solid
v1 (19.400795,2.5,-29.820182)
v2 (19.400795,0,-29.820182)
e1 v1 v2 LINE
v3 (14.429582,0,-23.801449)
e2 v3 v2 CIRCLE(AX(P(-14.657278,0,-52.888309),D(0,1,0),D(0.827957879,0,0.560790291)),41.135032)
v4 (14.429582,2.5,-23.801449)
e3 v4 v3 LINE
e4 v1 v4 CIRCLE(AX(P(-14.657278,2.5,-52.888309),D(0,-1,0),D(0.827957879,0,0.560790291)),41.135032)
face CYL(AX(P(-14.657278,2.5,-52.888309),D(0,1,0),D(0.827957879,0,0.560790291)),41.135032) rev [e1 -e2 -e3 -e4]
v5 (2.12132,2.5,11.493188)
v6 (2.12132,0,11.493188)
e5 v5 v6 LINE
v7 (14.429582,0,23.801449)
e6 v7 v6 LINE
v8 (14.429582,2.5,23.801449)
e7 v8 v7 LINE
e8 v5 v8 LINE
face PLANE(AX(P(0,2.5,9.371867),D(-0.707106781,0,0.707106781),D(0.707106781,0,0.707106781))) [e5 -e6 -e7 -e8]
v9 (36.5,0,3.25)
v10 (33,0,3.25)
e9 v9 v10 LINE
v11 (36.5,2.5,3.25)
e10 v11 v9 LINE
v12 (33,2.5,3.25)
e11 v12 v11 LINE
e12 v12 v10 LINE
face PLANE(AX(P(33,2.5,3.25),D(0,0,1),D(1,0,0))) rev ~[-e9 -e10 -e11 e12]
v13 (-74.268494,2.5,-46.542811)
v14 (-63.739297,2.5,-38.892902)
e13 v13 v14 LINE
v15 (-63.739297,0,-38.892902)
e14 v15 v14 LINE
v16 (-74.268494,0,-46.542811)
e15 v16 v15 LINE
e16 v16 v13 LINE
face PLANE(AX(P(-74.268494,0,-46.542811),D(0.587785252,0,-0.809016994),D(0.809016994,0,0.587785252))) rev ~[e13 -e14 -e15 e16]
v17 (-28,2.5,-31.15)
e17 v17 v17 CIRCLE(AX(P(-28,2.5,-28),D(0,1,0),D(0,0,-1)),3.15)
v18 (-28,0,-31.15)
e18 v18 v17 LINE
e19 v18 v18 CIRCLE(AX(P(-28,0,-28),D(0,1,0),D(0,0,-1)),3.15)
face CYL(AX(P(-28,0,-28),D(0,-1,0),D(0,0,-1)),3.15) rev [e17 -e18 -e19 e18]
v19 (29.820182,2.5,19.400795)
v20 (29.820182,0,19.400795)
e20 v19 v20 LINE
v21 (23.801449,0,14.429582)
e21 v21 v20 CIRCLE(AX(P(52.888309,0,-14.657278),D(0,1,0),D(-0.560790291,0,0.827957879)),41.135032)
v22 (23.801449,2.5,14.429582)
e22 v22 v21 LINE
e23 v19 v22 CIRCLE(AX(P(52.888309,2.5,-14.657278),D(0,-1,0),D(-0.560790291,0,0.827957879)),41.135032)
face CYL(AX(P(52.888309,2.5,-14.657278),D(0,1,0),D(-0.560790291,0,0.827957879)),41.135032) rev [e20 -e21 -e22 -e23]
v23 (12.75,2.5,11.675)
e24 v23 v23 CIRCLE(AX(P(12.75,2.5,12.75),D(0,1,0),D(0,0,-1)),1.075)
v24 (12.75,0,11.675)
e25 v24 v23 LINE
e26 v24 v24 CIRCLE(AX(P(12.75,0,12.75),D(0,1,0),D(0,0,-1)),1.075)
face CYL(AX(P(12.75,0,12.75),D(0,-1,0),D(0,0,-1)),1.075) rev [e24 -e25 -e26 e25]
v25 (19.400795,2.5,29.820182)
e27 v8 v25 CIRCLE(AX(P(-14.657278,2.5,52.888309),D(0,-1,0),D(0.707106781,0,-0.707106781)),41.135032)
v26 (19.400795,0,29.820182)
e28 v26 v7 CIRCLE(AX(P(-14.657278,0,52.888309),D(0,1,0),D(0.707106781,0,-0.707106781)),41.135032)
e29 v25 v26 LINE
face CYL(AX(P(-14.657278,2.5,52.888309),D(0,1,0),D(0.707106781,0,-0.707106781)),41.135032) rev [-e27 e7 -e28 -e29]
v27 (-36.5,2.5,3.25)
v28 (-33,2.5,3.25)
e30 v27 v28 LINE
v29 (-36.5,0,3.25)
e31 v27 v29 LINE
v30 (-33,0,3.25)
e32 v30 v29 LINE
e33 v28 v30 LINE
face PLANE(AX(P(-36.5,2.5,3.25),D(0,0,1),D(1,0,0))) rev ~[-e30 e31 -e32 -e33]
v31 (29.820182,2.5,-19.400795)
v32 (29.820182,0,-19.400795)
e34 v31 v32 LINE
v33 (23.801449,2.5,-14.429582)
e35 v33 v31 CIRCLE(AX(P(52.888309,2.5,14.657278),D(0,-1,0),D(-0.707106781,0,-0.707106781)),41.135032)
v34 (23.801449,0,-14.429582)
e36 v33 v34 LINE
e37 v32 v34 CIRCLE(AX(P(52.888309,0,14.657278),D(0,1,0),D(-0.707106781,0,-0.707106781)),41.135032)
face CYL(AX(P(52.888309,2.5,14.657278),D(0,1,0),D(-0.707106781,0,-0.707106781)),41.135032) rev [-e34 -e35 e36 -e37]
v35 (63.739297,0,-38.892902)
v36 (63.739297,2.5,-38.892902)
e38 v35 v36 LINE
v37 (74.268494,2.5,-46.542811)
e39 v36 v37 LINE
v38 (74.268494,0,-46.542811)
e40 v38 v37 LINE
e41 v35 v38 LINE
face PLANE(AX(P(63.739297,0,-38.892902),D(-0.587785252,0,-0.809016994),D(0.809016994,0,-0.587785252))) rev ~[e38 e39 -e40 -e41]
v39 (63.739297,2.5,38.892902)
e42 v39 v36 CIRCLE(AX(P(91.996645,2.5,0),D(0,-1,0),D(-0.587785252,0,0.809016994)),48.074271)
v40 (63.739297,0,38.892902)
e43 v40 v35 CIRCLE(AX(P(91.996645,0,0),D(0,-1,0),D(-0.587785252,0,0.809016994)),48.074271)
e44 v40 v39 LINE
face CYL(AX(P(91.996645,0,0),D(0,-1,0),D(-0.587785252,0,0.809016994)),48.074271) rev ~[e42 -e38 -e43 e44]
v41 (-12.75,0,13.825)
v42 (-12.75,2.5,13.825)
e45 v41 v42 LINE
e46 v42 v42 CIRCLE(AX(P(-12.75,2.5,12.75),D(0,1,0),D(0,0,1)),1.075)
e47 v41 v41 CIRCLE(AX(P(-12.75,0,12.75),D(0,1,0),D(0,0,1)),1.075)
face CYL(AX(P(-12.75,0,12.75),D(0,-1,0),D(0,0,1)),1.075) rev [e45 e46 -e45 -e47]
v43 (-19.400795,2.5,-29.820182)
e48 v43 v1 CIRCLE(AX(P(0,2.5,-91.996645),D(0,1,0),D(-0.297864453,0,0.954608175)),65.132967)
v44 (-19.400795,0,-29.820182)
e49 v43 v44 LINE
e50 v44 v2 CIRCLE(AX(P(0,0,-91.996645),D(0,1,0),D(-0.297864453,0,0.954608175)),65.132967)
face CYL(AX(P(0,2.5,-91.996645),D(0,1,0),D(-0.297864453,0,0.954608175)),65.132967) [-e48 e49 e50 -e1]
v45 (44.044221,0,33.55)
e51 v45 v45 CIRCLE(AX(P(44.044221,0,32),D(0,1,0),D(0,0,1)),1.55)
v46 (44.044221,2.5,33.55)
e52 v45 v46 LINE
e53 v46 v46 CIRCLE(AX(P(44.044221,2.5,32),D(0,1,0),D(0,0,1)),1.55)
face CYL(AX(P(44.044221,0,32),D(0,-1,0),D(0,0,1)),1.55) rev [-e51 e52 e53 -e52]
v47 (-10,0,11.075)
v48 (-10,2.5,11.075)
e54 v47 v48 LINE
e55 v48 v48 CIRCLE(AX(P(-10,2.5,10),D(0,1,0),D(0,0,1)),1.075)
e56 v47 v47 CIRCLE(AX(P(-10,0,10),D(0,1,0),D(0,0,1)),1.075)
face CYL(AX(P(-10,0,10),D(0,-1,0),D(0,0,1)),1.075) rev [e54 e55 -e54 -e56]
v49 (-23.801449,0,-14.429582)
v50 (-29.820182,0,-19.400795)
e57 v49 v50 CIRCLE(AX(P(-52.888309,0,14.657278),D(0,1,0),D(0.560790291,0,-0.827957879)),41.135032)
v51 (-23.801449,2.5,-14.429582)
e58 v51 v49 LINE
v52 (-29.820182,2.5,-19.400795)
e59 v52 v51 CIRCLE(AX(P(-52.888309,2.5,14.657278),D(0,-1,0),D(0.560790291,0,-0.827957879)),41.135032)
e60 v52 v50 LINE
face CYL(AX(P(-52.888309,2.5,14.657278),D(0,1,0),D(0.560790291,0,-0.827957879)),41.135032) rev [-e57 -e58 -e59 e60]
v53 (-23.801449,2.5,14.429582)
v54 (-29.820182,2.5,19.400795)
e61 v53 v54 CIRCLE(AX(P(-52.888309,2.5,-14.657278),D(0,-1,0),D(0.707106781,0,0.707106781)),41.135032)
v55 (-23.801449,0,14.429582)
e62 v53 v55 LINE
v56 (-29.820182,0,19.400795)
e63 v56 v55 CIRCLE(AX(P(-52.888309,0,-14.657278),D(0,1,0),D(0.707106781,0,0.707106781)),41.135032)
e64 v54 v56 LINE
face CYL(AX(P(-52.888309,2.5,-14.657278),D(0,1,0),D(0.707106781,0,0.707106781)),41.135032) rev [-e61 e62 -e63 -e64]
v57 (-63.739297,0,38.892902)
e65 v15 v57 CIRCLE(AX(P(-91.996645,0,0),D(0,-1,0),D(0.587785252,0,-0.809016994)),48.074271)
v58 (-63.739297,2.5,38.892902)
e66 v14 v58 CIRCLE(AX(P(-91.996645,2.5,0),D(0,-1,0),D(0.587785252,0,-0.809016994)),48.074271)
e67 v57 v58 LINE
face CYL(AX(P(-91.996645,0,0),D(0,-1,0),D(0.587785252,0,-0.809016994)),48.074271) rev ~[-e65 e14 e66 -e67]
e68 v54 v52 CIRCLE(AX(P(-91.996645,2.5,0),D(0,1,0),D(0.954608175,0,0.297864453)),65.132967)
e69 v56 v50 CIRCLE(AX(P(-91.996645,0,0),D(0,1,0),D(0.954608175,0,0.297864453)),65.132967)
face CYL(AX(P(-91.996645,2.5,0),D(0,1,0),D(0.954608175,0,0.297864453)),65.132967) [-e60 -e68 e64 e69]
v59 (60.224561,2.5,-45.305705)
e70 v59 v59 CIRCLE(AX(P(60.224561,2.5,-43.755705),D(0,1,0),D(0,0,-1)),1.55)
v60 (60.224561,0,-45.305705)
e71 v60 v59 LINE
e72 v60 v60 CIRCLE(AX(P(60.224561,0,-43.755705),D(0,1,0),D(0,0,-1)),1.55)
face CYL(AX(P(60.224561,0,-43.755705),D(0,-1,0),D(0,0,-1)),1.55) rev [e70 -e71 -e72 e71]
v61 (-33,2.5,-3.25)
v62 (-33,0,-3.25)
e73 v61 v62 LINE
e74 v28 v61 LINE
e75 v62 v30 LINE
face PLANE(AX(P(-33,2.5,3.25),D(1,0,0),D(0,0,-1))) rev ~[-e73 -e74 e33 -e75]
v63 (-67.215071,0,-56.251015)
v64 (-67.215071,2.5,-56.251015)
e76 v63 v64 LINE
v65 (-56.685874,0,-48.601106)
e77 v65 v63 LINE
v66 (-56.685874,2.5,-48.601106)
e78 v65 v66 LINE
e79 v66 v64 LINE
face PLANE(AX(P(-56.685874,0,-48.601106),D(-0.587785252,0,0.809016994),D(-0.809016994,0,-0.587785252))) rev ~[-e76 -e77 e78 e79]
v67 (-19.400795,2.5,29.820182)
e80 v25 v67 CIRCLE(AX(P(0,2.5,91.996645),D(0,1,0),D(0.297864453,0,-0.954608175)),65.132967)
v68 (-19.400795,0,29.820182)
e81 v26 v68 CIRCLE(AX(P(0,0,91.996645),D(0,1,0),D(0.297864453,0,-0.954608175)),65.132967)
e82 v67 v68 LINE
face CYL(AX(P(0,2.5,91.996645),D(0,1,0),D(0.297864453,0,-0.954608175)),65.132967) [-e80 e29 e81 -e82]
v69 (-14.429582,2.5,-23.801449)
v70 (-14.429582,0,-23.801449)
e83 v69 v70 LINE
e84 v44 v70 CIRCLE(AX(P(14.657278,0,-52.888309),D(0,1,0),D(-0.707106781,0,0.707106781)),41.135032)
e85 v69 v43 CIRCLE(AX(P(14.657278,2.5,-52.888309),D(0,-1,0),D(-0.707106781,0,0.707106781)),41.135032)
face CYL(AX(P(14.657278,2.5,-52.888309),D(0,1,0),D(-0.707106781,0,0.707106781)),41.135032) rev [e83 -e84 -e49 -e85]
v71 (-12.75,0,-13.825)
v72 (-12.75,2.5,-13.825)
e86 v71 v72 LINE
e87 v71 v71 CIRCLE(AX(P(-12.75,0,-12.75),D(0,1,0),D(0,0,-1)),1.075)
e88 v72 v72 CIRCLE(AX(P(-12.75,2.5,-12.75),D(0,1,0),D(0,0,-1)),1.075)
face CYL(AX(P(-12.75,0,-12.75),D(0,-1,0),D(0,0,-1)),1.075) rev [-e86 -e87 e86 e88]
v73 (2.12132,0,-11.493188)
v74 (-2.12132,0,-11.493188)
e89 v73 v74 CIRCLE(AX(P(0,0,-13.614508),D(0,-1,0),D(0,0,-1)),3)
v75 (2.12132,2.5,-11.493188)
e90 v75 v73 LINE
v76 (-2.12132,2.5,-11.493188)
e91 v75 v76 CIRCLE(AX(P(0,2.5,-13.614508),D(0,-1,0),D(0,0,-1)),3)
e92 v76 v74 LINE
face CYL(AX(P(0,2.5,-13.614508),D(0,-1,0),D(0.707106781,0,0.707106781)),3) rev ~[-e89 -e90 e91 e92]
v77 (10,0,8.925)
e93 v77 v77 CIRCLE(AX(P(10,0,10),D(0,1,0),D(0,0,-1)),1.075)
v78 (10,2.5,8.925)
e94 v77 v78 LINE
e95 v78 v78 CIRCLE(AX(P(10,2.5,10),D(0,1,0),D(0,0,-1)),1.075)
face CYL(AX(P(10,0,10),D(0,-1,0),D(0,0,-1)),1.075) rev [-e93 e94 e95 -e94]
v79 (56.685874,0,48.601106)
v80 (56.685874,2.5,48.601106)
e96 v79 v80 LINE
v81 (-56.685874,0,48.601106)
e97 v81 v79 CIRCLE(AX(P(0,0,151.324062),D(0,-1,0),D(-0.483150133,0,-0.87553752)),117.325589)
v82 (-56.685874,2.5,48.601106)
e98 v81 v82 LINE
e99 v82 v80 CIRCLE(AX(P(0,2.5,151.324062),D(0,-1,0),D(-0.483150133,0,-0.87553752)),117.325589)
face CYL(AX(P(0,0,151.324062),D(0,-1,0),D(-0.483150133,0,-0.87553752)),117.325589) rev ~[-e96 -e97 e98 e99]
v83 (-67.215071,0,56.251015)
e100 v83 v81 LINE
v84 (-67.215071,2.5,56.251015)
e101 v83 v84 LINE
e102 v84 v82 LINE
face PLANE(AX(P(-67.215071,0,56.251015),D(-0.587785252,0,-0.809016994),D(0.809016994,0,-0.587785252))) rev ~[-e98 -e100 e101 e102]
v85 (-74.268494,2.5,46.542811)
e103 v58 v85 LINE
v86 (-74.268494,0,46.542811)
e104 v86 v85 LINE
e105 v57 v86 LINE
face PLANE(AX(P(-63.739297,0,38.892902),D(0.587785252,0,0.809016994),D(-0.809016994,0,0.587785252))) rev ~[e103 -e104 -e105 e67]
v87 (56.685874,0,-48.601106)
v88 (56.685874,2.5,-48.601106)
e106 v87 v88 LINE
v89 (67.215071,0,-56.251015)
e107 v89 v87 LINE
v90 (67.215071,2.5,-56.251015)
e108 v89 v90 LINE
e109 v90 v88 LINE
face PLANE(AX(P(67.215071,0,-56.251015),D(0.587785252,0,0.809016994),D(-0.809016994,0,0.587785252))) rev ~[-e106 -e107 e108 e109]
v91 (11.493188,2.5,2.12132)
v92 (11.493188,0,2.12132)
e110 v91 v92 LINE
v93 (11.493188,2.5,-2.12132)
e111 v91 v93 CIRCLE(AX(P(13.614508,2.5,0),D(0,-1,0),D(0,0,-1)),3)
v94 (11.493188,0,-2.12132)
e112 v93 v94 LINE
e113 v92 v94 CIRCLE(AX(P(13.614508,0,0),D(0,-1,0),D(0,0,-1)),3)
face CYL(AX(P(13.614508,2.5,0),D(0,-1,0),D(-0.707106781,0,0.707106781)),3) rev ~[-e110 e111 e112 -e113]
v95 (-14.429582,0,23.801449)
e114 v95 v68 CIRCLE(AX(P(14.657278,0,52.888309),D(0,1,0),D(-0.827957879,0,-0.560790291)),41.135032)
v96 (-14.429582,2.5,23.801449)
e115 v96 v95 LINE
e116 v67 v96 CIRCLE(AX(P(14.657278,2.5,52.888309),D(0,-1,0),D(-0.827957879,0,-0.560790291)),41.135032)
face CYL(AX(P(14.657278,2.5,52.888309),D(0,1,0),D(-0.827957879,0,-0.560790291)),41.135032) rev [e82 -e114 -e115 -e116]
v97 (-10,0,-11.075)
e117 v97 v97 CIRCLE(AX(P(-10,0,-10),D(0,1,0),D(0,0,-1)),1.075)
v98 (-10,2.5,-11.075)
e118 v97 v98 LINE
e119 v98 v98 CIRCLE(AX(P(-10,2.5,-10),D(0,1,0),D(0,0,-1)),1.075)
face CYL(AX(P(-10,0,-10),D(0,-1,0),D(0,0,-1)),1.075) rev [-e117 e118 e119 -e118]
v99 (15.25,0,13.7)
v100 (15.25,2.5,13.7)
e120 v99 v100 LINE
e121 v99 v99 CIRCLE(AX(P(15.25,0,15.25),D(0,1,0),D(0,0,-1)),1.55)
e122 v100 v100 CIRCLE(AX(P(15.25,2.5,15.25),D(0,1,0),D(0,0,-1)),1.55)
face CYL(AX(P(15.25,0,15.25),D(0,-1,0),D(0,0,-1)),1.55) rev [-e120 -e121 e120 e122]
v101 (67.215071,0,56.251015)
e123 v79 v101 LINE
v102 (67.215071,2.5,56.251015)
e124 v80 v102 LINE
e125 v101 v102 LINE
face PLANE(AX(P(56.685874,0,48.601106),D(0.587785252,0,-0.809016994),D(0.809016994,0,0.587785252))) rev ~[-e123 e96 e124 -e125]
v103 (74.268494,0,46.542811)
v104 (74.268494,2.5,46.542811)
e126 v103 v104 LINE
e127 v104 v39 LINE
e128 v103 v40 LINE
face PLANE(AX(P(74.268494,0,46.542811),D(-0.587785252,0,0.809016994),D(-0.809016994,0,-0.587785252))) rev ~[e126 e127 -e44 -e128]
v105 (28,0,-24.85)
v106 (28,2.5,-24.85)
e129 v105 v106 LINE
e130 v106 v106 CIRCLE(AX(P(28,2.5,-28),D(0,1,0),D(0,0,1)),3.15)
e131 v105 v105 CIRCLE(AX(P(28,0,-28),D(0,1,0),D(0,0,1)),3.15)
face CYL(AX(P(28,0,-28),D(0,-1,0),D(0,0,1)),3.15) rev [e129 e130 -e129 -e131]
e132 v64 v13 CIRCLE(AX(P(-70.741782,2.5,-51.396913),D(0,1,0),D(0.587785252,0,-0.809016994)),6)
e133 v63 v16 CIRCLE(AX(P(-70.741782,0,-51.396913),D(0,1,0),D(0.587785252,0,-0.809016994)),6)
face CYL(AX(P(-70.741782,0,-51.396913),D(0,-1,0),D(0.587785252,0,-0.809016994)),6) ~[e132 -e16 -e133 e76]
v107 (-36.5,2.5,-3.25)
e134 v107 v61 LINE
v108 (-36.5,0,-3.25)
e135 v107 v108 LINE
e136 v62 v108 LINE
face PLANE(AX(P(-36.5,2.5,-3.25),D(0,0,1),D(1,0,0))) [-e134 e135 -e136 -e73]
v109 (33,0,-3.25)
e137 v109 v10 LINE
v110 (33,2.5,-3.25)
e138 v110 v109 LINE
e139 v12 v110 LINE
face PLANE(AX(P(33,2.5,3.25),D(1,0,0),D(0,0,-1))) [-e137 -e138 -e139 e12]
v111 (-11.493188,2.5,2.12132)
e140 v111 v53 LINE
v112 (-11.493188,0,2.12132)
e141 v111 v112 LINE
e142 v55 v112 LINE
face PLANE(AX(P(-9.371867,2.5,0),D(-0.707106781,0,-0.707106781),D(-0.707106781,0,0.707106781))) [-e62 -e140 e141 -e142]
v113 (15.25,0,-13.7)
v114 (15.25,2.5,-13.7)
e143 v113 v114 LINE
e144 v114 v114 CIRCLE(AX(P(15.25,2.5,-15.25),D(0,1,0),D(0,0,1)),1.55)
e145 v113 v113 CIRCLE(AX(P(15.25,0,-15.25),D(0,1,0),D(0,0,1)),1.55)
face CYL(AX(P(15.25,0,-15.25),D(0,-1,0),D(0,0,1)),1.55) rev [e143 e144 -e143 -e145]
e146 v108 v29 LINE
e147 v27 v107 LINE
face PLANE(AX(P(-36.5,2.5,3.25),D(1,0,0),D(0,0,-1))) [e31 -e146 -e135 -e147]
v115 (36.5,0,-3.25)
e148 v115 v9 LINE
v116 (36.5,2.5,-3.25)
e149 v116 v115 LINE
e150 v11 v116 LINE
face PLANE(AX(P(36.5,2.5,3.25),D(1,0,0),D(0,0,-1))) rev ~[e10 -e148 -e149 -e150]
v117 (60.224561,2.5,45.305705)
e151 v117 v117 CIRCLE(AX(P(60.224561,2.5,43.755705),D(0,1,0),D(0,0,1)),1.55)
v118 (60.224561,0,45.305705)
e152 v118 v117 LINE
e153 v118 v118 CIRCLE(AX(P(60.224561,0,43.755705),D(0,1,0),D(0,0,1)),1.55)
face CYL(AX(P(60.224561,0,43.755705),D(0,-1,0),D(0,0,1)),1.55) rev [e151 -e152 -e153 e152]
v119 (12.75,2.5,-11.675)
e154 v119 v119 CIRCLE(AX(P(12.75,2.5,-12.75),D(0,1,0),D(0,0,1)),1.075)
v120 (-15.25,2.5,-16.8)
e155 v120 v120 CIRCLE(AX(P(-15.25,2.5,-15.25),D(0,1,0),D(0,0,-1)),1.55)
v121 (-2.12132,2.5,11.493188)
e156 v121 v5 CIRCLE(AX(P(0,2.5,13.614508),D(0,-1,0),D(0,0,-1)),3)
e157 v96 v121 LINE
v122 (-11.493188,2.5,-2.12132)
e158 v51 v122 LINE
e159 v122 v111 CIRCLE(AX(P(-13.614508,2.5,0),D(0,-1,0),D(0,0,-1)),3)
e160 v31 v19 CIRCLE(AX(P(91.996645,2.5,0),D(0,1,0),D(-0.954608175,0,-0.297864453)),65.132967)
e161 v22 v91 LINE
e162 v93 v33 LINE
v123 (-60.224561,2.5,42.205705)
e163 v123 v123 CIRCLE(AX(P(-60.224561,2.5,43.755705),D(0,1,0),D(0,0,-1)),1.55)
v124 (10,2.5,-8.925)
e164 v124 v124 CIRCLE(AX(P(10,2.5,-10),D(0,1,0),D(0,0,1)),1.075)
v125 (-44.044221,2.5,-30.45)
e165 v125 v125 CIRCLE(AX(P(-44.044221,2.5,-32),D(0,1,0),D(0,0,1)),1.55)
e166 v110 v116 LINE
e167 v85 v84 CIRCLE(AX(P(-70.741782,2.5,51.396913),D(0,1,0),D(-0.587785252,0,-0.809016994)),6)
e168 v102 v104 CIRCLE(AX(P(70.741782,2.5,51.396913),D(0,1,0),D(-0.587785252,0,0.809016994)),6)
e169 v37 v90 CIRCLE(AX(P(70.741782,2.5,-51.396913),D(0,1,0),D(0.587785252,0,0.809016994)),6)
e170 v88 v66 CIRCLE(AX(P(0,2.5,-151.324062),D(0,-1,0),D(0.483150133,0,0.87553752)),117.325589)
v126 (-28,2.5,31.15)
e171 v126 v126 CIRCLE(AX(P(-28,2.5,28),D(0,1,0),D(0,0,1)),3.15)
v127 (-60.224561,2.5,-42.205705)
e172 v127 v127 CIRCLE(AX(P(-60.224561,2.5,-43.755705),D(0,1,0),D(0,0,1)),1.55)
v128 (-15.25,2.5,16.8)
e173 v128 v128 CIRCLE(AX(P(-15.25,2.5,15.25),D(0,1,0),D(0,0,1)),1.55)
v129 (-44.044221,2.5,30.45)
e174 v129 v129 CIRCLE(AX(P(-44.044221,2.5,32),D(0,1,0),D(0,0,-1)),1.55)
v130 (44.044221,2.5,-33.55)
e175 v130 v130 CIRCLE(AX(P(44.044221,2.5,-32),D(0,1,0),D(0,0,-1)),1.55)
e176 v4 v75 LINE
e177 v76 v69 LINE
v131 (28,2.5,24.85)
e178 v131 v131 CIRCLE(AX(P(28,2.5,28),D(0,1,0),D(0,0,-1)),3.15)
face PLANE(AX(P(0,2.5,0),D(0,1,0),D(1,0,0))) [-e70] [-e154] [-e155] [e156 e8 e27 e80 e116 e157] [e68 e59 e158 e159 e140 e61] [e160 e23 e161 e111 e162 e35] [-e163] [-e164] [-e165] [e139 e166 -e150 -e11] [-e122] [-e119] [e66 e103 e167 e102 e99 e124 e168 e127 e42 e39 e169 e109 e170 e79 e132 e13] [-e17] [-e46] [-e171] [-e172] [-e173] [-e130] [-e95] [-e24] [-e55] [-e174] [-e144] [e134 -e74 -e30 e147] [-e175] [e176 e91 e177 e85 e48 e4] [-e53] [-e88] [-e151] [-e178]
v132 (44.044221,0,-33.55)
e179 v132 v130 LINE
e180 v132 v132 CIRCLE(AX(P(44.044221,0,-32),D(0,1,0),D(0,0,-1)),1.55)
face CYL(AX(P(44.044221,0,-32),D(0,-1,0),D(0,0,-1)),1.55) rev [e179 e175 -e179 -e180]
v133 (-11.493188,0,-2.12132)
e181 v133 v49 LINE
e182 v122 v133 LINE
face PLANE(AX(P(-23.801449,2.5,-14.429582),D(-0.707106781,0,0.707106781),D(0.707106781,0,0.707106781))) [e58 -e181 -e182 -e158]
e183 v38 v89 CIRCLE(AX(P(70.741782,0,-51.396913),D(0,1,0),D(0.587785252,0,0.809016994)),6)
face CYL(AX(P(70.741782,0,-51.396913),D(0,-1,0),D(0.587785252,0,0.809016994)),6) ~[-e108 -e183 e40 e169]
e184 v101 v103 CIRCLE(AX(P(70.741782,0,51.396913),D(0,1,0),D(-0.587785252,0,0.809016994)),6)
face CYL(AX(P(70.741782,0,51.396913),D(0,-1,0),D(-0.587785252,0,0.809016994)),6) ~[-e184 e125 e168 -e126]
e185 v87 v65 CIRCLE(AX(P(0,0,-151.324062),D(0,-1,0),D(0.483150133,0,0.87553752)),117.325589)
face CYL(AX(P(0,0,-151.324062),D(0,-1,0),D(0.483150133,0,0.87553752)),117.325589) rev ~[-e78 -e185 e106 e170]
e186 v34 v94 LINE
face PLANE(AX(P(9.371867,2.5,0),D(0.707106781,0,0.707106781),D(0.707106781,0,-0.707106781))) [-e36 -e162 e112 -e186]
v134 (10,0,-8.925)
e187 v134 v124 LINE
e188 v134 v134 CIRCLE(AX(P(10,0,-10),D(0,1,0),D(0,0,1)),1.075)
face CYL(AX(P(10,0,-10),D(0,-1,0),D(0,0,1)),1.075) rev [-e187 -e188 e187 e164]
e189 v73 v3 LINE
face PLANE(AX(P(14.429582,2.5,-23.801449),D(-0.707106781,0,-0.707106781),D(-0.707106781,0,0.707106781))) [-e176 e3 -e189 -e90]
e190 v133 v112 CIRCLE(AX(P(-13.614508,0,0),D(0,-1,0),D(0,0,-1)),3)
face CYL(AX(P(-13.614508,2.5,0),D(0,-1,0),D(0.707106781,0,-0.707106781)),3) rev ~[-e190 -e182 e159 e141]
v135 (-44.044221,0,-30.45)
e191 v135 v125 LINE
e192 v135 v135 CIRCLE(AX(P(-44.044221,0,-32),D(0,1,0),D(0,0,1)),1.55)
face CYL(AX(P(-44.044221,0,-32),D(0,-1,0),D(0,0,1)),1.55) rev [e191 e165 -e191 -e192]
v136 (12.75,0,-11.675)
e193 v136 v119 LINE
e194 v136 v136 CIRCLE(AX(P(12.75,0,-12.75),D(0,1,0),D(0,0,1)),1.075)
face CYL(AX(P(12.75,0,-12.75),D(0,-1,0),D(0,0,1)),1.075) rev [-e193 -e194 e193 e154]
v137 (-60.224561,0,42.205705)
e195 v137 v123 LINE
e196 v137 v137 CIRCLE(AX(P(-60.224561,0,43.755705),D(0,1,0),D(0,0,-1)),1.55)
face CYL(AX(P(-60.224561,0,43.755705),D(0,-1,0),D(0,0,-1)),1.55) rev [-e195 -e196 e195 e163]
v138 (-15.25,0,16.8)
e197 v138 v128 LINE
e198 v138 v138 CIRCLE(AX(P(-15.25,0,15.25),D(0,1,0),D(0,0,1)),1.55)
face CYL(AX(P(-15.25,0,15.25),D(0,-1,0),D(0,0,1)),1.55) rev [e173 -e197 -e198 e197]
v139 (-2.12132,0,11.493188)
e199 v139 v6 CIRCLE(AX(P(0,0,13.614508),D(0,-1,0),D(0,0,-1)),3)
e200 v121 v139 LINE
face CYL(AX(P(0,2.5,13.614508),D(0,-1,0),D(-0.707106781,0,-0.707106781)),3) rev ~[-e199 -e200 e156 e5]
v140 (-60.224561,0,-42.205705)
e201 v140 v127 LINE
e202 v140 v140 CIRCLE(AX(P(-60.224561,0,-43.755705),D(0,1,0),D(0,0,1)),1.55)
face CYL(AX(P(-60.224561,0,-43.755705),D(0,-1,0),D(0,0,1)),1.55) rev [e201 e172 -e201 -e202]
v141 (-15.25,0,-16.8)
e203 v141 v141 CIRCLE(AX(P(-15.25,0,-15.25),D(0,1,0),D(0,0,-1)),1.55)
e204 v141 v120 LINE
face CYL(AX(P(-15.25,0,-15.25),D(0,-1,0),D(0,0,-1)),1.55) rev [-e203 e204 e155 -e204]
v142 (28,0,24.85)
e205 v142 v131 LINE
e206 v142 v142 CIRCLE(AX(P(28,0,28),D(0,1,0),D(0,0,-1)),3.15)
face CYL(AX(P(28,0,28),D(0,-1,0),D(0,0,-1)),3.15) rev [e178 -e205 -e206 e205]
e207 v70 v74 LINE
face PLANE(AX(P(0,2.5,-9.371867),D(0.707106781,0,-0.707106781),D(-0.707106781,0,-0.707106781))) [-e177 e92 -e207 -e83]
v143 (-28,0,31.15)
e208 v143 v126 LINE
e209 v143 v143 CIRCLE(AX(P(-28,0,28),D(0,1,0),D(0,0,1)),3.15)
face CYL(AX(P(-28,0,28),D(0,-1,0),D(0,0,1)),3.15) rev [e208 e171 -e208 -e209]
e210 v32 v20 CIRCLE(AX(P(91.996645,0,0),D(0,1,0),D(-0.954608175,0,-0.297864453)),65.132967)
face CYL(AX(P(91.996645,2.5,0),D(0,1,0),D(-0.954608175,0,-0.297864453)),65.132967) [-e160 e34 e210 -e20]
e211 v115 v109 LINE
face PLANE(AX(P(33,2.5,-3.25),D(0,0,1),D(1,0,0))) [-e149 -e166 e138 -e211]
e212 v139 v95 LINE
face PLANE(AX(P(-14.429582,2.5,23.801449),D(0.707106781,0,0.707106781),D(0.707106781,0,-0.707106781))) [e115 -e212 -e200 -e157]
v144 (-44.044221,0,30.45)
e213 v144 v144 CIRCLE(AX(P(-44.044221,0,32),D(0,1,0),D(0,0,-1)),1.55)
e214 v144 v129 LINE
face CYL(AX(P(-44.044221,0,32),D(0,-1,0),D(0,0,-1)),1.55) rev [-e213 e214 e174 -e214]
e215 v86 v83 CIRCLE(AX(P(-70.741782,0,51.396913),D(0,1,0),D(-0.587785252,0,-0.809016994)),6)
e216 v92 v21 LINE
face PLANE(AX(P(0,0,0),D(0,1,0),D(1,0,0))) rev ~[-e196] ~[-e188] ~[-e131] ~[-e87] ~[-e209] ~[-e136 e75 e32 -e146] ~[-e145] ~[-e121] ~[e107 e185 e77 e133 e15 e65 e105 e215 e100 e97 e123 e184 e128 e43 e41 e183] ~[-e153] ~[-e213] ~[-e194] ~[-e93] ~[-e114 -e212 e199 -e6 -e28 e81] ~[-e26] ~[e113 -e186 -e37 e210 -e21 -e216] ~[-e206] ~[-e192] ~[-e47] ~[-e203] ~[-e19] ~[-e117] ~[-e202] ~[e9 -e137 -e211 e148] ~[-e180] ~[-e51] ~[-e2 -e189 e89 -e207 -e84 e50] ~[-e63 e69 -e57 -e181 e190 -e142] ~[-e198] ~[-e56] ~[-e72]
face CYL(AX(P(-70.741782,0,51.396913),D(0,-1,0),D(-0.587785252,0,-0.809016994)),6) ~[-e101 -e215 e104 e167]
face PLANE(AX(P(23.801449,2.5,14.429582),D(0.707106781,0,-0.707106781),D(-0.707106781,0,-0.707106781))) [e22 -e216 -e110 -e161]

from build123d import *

# Parameters (mm, degrees)
SKETCH_1_R          = 1.075
SKETCH_1_R_2        = 1.55
SKETCH_1_R_3        = 3.15
SKETCH_1_R_4        = 3.150000003
EXTRUDE_1_DEPTH     = 2.5
CUT_EXTRUDE_1_REACH = 97.864
FILLET_1_R          = 3
CUT_EXTRUDE_2_REACH = 97.864
SKETCH_4_W          = 3.5
SKETCH_4_H          = 6.5


with BuildPart() as part:
    # 草图1 → 凸台-拉伸1 (new body)
    with BuildSketch(Plane(origin=(0, 0, 0), x_dir=(1, 0, 0), z_dir=(0, 1, 0))):
        with BuildLine():
            Line((74.268493783, -46.542811359), (63.739297222, -38.892902272))
            ThreePointArc((63.739297222, -38.892902272), (43.92237371, 0), (63.739297222, 38.892902272))
            Line((63.739297222, 38.892902272), (74.268493783, 46.542811359))
            ThreePointArc((74.268493783, 46.542811359), (75.595884236, 54.923624839), (67.215070756, 56.251015292))
            Line((67.215070756, 56.251015292), (56.685874194, 48.601106204))
            ThreePointArc((56.685874194, 48.601106204), (0, 33.998472353), (-56.685874194, 48.601106204))
            Line((-56.685874194, 48.601106204), (-67.215070756, 56.251015292))
            ThreePointArc((-67.215070756, 56.251015292), (-75.595884236, 54.923624839), (-74.268493783, 46.542811359))
            Line((-74.268493783, 46.542811359), (-63.739297222, 38.892902272))
            ThreePointArc((-63.739297222, 38.892902272), (-43.92237371, 0), (-63.739297222, -38.892902272))
            Line((-63.739297222, -38.892902272), (-74.268493783, -46.542811359))
            ThreePointArc((-74.268493783, -46.542811359), (-75.595884236, -54.923624839), (-67.215070756, -56.251015292))
            Line((-67.215070756, -56.251015292), (-56.685874194, -48.601106204))
            ThreePointArc((-56.685874194, -48.601106204), (0, -33.998472353), (56.685874194, -48.601106204))
            Line((56.685874194, -48.601106204), (67.215070756, -56.251015292))
            ThreePointArc((67.215070756, -56.251015292), (75.595884236, -54.923624839), (74.268493783, -46.542811359))
        make_face()
        with Locations(Location((10, 10, 0), (0, 0, 270))):
            Circle(SKETCH_1_R, mode=Mode.SUBTRACT)
        with Locations(Location((12.75, 12.75, 0), (0, 0, 270))):
            Circle(SKETCH_1_R, mode=Mode.SUBTRACT)
        with Locations(Location((15.25, 15.25, 0), (0, 0, 270))):
            Circle(SKETCH_1_R_2, mode=Mode.SUBTRACT)
        with Locations(Location((15.25, -15.25, 0), (0, 0, 90))):
            Circle(SKETCH_1_R_2, mode=Mode.SUBTRACT)
        with Locations(Location((12.75, -12.75, 0), (0, 0, 90))):
            Circle(SKETCH_1_R, mode=Mode.SUBTRACT)
        with Locations(Location((10, -10, 0), (0, 0, 90))):
            Circle(SKETCH_1_R, mode=Mode.SUBTRACT)
        with Locations(Location((28, -28, 0), (0, 0, 90))):
            Circle(SKETCH_1_R_3, mode=Mode.SUBTRACT)
        with Locations(Location((28, 28, 0), (0, 0, 270))):
            Circle(SKETCH_1_R_4, mode=Mode.SUBTRACT)
        with Locations(Location((44.044221455, -32, 0), (0, 0, 270))):
            Circle(SKETCH_1_R_2, mode=Mode.SUBTRACT)
        with Locations(Location((60.224561343, -43.755705046, 0), (0, 0, 270))):
            Circle(SKETCH_1_R_2, mode=Mode.SUBTRACT)
        with Locations(Location((60.224561343, 43.755705046, 0), (0, 0, 90))):
            Circle(SKETCH_1_R_2, mode=Mode.SUBTRACT)
        with Locations(Location((44.044221455, 32, 0), (0, 0, 90))):
            Circle(SKETCH_1_R_2, mode=Mode.SUBTRACT)
        with Locations(Location((-44.044221455, 32, 0), (0, 0, 270))):
            Circle(SKETCH_1_R_2, mode=Mode.SUBTRACT)
        with Locations(Location((-60.224561343, 43.755705046, 0), (0, 0, 270))):
            Circle(SKETCH_1_R_2, mode=Mode.SUBTRACT)
        with Locations(Location((-60.224561343, -43.755705046, 0), (0, 0, 90))):
            Circle(SKETCH_1_R_2, mode=Mode.SUBTRACT)
        with Locations(Location((-44.044221455, -32, 0), (0, 0, 90))):
            Circle(SKETCH_1_R_2, mode=Mode.SUBTRACT)
        with Locations(Location((-28, 28, 0), (0, 0, 90))):
            Circle(SKETCH_1_R_4, mode=Mode.SUBTRACT)
        with Locations(Location((-28, -28, 0), (0, 0, 270))):
            Circle(SKETCH_1_R_3, mode=Mode.SUBTRACT)
        with Locations(Location((-10, -10, 0), (0, 0, 270))):
            Circle(SKETCH_1_R, mode=Mode.SUBTRACT)
        with Locations(Location((-12.75, -12.75, 0), (0, 0, 270))):
            Circle(SKETCH_1_R, mode=Mode.SUBTRACT)
        with Locations(Location((-15.25, -15.25, 0), (0, 0, 270))):
            Circle(SKETCH_1_R_2, mode=Mode.SUBTRACT)
        with Locations(Location((-15.25, 15.25, 0), (0, 0, 90))):
            Circle(SKETCH_1_R_2, mode=Mode.SUBTRACT)
        with Locations(Location((-12.75, 12.75, 0), (0, 0, 90))):
            Circle(SKETCH_1_R, mode=Mode.SUBTRACT)
        with Locations(Location((-10, 10, 0), (0, 0, 90))):
            Circle(SKETCH_1_R, mode=Mode.SUBTRACT)
    extrude(amount=EXTRUDE_1_DEPTH)

    # 草图2 → 切除-拉伸1 (cut, up to next)
    with BuildSketch(Plane(origin=(0, 2.5, 0), x_dir=(1, 0, 0), z_dir=(0, 1, 0)), mode=Mode.PRIVATE) as cut_extrude_1_sk1:
        with BuildLine():
            Line((-23.801448899, 14.429581723), (-9.371867176, 0))
            Line((-9.371867176, 0), (-23.801448899, -14.429581723))
            ThreePointArc((-23.801448899, -14.429581723), (-26.692624222, -17.058284994), (-29.820182402, -19.400795498))
            ThreePointArc((-29.820182402, -19.400795498), (-26.863678166, 0), (-29.820182402, 19.400795498))
            ThreePointArc((-29.820182402, 19.400795498), (-26.692624222, 17.058284994), (-23.801448899, 14.429581723))
        make_face()
    cut_extrude_1_tool1 = extrude(cut_extrude_1_sk1.sketch, amount=-CUT_EXTRUDE_1_REACH, mode=Mode.PRIVATE) & part.part
    # 草图2 → 切除-拉伸1 (cut, up to next)
    with BuildSketch(Plane(origin=(0, 2.5, 0), x_dir=(1, 0, 0), z_dir=(0, 1, 0)), mode=Mode.PRIVATE) as cut_extrude_1_sk2:
        with BuildLine():
            Line((14.429581723, 23.801448899), (0, 9.371867176))
            Line((0, 9.371867176), (-14.429581723, 23.801448899))
            ThreePointArc((-14.429581723, 23.801448899), (-17.058284994, 26.692624222), (-19.400795498, 29.820182402))
            ThreePointArc((-19.400795498, 29.820182402), (0, 26.863678166), (19.400795498, 29.820182402))
            ThreePointArc((19.400795498, 29.820182402), (17.058284994, 26.692624222), (14.429581723, 23.801448899))
        make_face()
    cut_extrude_1_tool2 = extrude(cut_extrude_1_sk2.sketch, amount=-CUT_EXTRUDE_1_REACH, mode=Mode.PRIVATE) & part.part
    # 草图2 → 切除-拉伸1 (cut, up to next)
    with BuildSketch(Plane(origin=(0, 2.5, 0), x_dir=(1, 0, 0), z_dir=(0, 1, 0)), mode=Mode.PRIVATE) as cut_extrude_1_sk3:
        with BuildLine():
            Line((23.801448899, -14.429581723), (9.371867176, 0))
            Line((9.371867176, 0), (23.801448899, 14.429581723))
            ThreePointArc((23.801448899, 14.429581723), (26.692624222, 17.058284994), (29.820182402, 19.400795498))
            ThreePointArc((29.820182402, 19.400795498), (26.863678166, 0), (29.820182402, -19.400795498))
            ThreePointArc((29.820182402, -19.400795498), (26.692624222, -17.058284994), (23.801448899, -14.429581723))
        make_face()
    cut_extrude_1_tool3 = extrude(cut_extrude_1_sk3.sketch, amount=-CUT_EXTRUDE_1_REACH, mode=Mode.PRIVATE) & part.part
    # 草图2 → 切除-拉伸1 (cut, up to next)
    with BuildSketch(Plane(origin=(0, 2.5, 0), x_dir=(1, 0, 0), z_dir=(0, 1, 0)), mode=Mode.PRIVATE) as cut_extrude_1_sk4:
        with BuildLine():
            Line((-14.429581723, -23.801448899), (0, -9.371867176))
            Line((0, -9.371867176), (14.429581723, -23.801448899))
            ThreePointArc((14.429581723, -23.801448899), (17.058284994, -26.692624222), (19.400795498, -29.820182402))
            ThreePointArc((19.400795498, -29.820182402), (0, -26.863678166), (-19.400795498, -29.820182402))
            ThreePointArc((-19.400795498, -29.820182402), (-17.058284994, -26.692624222), (-14.429581723, -23.801448899))
        make_face()
    cut_extrude_1_tool4 = extrude(cut_extrude_1_sk4.sketch, amount=-CUT_EXTRUDE_1_REACH, mode=Mode.PRIVATE) & part.part
    add(cut_extrude_1_tool1.solids().sort_by_distance((-21.651527, 2.5, 0))[0], mode=Mode.SUBTRACT)
    add(cut_extrude_1_tool2.solids().sort_by_distance((0, 2.5, -21.651527))[0], mode=Mode.SUBTRACT)
    add(cut_extrude_1_tool3.solids().sort_by_distance((21.651527, 2.5, 0))[0], mode=Mode.SUBTRACT)
    add(cut_extrude_1_tool4.solids().sort_by_distance((0, 2.5, 21.651527))[0], mode=Mode.SUBTRACT)

    # 圆角1
    fillet_1_edges = [part.edges().sort_by_distance(p)[0] for p in [
        (9.371867176, 1.25, 0),
        (0, 1.25, -9.371867176),
        (0, 1.25, 9.371867176),
        (-9.371867176, 1.25, 0),
    ]]
    fillet(fillet_1_edges, radius=FILLET_1_R)

    # 草图4 → 切除-拉伸2 (cut, up to next)
    with BuildSketch(Plane(origin=(0, 2.5, 0), x_dir=(1, 0, 0), z_dir=(0, 1, 0)), mode=Mode.PRIVATE) as cut_extrude_2_sk1:
        with Locations((34.75, 0)):
            Rectangle(SKETCH_4_W, SKETCH_4_H)
    cut_extrude_2_tool1 = extrude(cut_extrude_2_sk1.sketch, amount=-CUT_EXTRUDE_2_REACH, mode=Mode.PRIVATE) & part.part
    # 草图4 → 切除-拉伸2 (cut, up to next)
    with BuildSketch(Plane(origin=(0, 2.5, 0), x_dir=(1, 0, 0), z_dir=(0, 1, 0)), mode=Mode.PRIVATE) as cut_extrude_2_sk2:
        with Locations((-34.75, 0)):
            Rectangle(SKETCH_4_W, SKETCH_4_H)
    cut_extrude_2_tool2 = extrude(cut_extrude_2_sk2.sketch, amount=-CUT_EXTRUDE_2_REACH, mode=Mode.PRIVATE) & part.part
    add(cut_extrude_2_tool1.solids().sort_by_distance((34.75, 2.5, 0))[0], mode=Mode.SUBTRACT)
    add(cut_extrude_2_tool2.solids().sort_by_distance((-34.75, 2.5, 0))[0], mode=Mode.SUBTRACT)


solid = part.part
